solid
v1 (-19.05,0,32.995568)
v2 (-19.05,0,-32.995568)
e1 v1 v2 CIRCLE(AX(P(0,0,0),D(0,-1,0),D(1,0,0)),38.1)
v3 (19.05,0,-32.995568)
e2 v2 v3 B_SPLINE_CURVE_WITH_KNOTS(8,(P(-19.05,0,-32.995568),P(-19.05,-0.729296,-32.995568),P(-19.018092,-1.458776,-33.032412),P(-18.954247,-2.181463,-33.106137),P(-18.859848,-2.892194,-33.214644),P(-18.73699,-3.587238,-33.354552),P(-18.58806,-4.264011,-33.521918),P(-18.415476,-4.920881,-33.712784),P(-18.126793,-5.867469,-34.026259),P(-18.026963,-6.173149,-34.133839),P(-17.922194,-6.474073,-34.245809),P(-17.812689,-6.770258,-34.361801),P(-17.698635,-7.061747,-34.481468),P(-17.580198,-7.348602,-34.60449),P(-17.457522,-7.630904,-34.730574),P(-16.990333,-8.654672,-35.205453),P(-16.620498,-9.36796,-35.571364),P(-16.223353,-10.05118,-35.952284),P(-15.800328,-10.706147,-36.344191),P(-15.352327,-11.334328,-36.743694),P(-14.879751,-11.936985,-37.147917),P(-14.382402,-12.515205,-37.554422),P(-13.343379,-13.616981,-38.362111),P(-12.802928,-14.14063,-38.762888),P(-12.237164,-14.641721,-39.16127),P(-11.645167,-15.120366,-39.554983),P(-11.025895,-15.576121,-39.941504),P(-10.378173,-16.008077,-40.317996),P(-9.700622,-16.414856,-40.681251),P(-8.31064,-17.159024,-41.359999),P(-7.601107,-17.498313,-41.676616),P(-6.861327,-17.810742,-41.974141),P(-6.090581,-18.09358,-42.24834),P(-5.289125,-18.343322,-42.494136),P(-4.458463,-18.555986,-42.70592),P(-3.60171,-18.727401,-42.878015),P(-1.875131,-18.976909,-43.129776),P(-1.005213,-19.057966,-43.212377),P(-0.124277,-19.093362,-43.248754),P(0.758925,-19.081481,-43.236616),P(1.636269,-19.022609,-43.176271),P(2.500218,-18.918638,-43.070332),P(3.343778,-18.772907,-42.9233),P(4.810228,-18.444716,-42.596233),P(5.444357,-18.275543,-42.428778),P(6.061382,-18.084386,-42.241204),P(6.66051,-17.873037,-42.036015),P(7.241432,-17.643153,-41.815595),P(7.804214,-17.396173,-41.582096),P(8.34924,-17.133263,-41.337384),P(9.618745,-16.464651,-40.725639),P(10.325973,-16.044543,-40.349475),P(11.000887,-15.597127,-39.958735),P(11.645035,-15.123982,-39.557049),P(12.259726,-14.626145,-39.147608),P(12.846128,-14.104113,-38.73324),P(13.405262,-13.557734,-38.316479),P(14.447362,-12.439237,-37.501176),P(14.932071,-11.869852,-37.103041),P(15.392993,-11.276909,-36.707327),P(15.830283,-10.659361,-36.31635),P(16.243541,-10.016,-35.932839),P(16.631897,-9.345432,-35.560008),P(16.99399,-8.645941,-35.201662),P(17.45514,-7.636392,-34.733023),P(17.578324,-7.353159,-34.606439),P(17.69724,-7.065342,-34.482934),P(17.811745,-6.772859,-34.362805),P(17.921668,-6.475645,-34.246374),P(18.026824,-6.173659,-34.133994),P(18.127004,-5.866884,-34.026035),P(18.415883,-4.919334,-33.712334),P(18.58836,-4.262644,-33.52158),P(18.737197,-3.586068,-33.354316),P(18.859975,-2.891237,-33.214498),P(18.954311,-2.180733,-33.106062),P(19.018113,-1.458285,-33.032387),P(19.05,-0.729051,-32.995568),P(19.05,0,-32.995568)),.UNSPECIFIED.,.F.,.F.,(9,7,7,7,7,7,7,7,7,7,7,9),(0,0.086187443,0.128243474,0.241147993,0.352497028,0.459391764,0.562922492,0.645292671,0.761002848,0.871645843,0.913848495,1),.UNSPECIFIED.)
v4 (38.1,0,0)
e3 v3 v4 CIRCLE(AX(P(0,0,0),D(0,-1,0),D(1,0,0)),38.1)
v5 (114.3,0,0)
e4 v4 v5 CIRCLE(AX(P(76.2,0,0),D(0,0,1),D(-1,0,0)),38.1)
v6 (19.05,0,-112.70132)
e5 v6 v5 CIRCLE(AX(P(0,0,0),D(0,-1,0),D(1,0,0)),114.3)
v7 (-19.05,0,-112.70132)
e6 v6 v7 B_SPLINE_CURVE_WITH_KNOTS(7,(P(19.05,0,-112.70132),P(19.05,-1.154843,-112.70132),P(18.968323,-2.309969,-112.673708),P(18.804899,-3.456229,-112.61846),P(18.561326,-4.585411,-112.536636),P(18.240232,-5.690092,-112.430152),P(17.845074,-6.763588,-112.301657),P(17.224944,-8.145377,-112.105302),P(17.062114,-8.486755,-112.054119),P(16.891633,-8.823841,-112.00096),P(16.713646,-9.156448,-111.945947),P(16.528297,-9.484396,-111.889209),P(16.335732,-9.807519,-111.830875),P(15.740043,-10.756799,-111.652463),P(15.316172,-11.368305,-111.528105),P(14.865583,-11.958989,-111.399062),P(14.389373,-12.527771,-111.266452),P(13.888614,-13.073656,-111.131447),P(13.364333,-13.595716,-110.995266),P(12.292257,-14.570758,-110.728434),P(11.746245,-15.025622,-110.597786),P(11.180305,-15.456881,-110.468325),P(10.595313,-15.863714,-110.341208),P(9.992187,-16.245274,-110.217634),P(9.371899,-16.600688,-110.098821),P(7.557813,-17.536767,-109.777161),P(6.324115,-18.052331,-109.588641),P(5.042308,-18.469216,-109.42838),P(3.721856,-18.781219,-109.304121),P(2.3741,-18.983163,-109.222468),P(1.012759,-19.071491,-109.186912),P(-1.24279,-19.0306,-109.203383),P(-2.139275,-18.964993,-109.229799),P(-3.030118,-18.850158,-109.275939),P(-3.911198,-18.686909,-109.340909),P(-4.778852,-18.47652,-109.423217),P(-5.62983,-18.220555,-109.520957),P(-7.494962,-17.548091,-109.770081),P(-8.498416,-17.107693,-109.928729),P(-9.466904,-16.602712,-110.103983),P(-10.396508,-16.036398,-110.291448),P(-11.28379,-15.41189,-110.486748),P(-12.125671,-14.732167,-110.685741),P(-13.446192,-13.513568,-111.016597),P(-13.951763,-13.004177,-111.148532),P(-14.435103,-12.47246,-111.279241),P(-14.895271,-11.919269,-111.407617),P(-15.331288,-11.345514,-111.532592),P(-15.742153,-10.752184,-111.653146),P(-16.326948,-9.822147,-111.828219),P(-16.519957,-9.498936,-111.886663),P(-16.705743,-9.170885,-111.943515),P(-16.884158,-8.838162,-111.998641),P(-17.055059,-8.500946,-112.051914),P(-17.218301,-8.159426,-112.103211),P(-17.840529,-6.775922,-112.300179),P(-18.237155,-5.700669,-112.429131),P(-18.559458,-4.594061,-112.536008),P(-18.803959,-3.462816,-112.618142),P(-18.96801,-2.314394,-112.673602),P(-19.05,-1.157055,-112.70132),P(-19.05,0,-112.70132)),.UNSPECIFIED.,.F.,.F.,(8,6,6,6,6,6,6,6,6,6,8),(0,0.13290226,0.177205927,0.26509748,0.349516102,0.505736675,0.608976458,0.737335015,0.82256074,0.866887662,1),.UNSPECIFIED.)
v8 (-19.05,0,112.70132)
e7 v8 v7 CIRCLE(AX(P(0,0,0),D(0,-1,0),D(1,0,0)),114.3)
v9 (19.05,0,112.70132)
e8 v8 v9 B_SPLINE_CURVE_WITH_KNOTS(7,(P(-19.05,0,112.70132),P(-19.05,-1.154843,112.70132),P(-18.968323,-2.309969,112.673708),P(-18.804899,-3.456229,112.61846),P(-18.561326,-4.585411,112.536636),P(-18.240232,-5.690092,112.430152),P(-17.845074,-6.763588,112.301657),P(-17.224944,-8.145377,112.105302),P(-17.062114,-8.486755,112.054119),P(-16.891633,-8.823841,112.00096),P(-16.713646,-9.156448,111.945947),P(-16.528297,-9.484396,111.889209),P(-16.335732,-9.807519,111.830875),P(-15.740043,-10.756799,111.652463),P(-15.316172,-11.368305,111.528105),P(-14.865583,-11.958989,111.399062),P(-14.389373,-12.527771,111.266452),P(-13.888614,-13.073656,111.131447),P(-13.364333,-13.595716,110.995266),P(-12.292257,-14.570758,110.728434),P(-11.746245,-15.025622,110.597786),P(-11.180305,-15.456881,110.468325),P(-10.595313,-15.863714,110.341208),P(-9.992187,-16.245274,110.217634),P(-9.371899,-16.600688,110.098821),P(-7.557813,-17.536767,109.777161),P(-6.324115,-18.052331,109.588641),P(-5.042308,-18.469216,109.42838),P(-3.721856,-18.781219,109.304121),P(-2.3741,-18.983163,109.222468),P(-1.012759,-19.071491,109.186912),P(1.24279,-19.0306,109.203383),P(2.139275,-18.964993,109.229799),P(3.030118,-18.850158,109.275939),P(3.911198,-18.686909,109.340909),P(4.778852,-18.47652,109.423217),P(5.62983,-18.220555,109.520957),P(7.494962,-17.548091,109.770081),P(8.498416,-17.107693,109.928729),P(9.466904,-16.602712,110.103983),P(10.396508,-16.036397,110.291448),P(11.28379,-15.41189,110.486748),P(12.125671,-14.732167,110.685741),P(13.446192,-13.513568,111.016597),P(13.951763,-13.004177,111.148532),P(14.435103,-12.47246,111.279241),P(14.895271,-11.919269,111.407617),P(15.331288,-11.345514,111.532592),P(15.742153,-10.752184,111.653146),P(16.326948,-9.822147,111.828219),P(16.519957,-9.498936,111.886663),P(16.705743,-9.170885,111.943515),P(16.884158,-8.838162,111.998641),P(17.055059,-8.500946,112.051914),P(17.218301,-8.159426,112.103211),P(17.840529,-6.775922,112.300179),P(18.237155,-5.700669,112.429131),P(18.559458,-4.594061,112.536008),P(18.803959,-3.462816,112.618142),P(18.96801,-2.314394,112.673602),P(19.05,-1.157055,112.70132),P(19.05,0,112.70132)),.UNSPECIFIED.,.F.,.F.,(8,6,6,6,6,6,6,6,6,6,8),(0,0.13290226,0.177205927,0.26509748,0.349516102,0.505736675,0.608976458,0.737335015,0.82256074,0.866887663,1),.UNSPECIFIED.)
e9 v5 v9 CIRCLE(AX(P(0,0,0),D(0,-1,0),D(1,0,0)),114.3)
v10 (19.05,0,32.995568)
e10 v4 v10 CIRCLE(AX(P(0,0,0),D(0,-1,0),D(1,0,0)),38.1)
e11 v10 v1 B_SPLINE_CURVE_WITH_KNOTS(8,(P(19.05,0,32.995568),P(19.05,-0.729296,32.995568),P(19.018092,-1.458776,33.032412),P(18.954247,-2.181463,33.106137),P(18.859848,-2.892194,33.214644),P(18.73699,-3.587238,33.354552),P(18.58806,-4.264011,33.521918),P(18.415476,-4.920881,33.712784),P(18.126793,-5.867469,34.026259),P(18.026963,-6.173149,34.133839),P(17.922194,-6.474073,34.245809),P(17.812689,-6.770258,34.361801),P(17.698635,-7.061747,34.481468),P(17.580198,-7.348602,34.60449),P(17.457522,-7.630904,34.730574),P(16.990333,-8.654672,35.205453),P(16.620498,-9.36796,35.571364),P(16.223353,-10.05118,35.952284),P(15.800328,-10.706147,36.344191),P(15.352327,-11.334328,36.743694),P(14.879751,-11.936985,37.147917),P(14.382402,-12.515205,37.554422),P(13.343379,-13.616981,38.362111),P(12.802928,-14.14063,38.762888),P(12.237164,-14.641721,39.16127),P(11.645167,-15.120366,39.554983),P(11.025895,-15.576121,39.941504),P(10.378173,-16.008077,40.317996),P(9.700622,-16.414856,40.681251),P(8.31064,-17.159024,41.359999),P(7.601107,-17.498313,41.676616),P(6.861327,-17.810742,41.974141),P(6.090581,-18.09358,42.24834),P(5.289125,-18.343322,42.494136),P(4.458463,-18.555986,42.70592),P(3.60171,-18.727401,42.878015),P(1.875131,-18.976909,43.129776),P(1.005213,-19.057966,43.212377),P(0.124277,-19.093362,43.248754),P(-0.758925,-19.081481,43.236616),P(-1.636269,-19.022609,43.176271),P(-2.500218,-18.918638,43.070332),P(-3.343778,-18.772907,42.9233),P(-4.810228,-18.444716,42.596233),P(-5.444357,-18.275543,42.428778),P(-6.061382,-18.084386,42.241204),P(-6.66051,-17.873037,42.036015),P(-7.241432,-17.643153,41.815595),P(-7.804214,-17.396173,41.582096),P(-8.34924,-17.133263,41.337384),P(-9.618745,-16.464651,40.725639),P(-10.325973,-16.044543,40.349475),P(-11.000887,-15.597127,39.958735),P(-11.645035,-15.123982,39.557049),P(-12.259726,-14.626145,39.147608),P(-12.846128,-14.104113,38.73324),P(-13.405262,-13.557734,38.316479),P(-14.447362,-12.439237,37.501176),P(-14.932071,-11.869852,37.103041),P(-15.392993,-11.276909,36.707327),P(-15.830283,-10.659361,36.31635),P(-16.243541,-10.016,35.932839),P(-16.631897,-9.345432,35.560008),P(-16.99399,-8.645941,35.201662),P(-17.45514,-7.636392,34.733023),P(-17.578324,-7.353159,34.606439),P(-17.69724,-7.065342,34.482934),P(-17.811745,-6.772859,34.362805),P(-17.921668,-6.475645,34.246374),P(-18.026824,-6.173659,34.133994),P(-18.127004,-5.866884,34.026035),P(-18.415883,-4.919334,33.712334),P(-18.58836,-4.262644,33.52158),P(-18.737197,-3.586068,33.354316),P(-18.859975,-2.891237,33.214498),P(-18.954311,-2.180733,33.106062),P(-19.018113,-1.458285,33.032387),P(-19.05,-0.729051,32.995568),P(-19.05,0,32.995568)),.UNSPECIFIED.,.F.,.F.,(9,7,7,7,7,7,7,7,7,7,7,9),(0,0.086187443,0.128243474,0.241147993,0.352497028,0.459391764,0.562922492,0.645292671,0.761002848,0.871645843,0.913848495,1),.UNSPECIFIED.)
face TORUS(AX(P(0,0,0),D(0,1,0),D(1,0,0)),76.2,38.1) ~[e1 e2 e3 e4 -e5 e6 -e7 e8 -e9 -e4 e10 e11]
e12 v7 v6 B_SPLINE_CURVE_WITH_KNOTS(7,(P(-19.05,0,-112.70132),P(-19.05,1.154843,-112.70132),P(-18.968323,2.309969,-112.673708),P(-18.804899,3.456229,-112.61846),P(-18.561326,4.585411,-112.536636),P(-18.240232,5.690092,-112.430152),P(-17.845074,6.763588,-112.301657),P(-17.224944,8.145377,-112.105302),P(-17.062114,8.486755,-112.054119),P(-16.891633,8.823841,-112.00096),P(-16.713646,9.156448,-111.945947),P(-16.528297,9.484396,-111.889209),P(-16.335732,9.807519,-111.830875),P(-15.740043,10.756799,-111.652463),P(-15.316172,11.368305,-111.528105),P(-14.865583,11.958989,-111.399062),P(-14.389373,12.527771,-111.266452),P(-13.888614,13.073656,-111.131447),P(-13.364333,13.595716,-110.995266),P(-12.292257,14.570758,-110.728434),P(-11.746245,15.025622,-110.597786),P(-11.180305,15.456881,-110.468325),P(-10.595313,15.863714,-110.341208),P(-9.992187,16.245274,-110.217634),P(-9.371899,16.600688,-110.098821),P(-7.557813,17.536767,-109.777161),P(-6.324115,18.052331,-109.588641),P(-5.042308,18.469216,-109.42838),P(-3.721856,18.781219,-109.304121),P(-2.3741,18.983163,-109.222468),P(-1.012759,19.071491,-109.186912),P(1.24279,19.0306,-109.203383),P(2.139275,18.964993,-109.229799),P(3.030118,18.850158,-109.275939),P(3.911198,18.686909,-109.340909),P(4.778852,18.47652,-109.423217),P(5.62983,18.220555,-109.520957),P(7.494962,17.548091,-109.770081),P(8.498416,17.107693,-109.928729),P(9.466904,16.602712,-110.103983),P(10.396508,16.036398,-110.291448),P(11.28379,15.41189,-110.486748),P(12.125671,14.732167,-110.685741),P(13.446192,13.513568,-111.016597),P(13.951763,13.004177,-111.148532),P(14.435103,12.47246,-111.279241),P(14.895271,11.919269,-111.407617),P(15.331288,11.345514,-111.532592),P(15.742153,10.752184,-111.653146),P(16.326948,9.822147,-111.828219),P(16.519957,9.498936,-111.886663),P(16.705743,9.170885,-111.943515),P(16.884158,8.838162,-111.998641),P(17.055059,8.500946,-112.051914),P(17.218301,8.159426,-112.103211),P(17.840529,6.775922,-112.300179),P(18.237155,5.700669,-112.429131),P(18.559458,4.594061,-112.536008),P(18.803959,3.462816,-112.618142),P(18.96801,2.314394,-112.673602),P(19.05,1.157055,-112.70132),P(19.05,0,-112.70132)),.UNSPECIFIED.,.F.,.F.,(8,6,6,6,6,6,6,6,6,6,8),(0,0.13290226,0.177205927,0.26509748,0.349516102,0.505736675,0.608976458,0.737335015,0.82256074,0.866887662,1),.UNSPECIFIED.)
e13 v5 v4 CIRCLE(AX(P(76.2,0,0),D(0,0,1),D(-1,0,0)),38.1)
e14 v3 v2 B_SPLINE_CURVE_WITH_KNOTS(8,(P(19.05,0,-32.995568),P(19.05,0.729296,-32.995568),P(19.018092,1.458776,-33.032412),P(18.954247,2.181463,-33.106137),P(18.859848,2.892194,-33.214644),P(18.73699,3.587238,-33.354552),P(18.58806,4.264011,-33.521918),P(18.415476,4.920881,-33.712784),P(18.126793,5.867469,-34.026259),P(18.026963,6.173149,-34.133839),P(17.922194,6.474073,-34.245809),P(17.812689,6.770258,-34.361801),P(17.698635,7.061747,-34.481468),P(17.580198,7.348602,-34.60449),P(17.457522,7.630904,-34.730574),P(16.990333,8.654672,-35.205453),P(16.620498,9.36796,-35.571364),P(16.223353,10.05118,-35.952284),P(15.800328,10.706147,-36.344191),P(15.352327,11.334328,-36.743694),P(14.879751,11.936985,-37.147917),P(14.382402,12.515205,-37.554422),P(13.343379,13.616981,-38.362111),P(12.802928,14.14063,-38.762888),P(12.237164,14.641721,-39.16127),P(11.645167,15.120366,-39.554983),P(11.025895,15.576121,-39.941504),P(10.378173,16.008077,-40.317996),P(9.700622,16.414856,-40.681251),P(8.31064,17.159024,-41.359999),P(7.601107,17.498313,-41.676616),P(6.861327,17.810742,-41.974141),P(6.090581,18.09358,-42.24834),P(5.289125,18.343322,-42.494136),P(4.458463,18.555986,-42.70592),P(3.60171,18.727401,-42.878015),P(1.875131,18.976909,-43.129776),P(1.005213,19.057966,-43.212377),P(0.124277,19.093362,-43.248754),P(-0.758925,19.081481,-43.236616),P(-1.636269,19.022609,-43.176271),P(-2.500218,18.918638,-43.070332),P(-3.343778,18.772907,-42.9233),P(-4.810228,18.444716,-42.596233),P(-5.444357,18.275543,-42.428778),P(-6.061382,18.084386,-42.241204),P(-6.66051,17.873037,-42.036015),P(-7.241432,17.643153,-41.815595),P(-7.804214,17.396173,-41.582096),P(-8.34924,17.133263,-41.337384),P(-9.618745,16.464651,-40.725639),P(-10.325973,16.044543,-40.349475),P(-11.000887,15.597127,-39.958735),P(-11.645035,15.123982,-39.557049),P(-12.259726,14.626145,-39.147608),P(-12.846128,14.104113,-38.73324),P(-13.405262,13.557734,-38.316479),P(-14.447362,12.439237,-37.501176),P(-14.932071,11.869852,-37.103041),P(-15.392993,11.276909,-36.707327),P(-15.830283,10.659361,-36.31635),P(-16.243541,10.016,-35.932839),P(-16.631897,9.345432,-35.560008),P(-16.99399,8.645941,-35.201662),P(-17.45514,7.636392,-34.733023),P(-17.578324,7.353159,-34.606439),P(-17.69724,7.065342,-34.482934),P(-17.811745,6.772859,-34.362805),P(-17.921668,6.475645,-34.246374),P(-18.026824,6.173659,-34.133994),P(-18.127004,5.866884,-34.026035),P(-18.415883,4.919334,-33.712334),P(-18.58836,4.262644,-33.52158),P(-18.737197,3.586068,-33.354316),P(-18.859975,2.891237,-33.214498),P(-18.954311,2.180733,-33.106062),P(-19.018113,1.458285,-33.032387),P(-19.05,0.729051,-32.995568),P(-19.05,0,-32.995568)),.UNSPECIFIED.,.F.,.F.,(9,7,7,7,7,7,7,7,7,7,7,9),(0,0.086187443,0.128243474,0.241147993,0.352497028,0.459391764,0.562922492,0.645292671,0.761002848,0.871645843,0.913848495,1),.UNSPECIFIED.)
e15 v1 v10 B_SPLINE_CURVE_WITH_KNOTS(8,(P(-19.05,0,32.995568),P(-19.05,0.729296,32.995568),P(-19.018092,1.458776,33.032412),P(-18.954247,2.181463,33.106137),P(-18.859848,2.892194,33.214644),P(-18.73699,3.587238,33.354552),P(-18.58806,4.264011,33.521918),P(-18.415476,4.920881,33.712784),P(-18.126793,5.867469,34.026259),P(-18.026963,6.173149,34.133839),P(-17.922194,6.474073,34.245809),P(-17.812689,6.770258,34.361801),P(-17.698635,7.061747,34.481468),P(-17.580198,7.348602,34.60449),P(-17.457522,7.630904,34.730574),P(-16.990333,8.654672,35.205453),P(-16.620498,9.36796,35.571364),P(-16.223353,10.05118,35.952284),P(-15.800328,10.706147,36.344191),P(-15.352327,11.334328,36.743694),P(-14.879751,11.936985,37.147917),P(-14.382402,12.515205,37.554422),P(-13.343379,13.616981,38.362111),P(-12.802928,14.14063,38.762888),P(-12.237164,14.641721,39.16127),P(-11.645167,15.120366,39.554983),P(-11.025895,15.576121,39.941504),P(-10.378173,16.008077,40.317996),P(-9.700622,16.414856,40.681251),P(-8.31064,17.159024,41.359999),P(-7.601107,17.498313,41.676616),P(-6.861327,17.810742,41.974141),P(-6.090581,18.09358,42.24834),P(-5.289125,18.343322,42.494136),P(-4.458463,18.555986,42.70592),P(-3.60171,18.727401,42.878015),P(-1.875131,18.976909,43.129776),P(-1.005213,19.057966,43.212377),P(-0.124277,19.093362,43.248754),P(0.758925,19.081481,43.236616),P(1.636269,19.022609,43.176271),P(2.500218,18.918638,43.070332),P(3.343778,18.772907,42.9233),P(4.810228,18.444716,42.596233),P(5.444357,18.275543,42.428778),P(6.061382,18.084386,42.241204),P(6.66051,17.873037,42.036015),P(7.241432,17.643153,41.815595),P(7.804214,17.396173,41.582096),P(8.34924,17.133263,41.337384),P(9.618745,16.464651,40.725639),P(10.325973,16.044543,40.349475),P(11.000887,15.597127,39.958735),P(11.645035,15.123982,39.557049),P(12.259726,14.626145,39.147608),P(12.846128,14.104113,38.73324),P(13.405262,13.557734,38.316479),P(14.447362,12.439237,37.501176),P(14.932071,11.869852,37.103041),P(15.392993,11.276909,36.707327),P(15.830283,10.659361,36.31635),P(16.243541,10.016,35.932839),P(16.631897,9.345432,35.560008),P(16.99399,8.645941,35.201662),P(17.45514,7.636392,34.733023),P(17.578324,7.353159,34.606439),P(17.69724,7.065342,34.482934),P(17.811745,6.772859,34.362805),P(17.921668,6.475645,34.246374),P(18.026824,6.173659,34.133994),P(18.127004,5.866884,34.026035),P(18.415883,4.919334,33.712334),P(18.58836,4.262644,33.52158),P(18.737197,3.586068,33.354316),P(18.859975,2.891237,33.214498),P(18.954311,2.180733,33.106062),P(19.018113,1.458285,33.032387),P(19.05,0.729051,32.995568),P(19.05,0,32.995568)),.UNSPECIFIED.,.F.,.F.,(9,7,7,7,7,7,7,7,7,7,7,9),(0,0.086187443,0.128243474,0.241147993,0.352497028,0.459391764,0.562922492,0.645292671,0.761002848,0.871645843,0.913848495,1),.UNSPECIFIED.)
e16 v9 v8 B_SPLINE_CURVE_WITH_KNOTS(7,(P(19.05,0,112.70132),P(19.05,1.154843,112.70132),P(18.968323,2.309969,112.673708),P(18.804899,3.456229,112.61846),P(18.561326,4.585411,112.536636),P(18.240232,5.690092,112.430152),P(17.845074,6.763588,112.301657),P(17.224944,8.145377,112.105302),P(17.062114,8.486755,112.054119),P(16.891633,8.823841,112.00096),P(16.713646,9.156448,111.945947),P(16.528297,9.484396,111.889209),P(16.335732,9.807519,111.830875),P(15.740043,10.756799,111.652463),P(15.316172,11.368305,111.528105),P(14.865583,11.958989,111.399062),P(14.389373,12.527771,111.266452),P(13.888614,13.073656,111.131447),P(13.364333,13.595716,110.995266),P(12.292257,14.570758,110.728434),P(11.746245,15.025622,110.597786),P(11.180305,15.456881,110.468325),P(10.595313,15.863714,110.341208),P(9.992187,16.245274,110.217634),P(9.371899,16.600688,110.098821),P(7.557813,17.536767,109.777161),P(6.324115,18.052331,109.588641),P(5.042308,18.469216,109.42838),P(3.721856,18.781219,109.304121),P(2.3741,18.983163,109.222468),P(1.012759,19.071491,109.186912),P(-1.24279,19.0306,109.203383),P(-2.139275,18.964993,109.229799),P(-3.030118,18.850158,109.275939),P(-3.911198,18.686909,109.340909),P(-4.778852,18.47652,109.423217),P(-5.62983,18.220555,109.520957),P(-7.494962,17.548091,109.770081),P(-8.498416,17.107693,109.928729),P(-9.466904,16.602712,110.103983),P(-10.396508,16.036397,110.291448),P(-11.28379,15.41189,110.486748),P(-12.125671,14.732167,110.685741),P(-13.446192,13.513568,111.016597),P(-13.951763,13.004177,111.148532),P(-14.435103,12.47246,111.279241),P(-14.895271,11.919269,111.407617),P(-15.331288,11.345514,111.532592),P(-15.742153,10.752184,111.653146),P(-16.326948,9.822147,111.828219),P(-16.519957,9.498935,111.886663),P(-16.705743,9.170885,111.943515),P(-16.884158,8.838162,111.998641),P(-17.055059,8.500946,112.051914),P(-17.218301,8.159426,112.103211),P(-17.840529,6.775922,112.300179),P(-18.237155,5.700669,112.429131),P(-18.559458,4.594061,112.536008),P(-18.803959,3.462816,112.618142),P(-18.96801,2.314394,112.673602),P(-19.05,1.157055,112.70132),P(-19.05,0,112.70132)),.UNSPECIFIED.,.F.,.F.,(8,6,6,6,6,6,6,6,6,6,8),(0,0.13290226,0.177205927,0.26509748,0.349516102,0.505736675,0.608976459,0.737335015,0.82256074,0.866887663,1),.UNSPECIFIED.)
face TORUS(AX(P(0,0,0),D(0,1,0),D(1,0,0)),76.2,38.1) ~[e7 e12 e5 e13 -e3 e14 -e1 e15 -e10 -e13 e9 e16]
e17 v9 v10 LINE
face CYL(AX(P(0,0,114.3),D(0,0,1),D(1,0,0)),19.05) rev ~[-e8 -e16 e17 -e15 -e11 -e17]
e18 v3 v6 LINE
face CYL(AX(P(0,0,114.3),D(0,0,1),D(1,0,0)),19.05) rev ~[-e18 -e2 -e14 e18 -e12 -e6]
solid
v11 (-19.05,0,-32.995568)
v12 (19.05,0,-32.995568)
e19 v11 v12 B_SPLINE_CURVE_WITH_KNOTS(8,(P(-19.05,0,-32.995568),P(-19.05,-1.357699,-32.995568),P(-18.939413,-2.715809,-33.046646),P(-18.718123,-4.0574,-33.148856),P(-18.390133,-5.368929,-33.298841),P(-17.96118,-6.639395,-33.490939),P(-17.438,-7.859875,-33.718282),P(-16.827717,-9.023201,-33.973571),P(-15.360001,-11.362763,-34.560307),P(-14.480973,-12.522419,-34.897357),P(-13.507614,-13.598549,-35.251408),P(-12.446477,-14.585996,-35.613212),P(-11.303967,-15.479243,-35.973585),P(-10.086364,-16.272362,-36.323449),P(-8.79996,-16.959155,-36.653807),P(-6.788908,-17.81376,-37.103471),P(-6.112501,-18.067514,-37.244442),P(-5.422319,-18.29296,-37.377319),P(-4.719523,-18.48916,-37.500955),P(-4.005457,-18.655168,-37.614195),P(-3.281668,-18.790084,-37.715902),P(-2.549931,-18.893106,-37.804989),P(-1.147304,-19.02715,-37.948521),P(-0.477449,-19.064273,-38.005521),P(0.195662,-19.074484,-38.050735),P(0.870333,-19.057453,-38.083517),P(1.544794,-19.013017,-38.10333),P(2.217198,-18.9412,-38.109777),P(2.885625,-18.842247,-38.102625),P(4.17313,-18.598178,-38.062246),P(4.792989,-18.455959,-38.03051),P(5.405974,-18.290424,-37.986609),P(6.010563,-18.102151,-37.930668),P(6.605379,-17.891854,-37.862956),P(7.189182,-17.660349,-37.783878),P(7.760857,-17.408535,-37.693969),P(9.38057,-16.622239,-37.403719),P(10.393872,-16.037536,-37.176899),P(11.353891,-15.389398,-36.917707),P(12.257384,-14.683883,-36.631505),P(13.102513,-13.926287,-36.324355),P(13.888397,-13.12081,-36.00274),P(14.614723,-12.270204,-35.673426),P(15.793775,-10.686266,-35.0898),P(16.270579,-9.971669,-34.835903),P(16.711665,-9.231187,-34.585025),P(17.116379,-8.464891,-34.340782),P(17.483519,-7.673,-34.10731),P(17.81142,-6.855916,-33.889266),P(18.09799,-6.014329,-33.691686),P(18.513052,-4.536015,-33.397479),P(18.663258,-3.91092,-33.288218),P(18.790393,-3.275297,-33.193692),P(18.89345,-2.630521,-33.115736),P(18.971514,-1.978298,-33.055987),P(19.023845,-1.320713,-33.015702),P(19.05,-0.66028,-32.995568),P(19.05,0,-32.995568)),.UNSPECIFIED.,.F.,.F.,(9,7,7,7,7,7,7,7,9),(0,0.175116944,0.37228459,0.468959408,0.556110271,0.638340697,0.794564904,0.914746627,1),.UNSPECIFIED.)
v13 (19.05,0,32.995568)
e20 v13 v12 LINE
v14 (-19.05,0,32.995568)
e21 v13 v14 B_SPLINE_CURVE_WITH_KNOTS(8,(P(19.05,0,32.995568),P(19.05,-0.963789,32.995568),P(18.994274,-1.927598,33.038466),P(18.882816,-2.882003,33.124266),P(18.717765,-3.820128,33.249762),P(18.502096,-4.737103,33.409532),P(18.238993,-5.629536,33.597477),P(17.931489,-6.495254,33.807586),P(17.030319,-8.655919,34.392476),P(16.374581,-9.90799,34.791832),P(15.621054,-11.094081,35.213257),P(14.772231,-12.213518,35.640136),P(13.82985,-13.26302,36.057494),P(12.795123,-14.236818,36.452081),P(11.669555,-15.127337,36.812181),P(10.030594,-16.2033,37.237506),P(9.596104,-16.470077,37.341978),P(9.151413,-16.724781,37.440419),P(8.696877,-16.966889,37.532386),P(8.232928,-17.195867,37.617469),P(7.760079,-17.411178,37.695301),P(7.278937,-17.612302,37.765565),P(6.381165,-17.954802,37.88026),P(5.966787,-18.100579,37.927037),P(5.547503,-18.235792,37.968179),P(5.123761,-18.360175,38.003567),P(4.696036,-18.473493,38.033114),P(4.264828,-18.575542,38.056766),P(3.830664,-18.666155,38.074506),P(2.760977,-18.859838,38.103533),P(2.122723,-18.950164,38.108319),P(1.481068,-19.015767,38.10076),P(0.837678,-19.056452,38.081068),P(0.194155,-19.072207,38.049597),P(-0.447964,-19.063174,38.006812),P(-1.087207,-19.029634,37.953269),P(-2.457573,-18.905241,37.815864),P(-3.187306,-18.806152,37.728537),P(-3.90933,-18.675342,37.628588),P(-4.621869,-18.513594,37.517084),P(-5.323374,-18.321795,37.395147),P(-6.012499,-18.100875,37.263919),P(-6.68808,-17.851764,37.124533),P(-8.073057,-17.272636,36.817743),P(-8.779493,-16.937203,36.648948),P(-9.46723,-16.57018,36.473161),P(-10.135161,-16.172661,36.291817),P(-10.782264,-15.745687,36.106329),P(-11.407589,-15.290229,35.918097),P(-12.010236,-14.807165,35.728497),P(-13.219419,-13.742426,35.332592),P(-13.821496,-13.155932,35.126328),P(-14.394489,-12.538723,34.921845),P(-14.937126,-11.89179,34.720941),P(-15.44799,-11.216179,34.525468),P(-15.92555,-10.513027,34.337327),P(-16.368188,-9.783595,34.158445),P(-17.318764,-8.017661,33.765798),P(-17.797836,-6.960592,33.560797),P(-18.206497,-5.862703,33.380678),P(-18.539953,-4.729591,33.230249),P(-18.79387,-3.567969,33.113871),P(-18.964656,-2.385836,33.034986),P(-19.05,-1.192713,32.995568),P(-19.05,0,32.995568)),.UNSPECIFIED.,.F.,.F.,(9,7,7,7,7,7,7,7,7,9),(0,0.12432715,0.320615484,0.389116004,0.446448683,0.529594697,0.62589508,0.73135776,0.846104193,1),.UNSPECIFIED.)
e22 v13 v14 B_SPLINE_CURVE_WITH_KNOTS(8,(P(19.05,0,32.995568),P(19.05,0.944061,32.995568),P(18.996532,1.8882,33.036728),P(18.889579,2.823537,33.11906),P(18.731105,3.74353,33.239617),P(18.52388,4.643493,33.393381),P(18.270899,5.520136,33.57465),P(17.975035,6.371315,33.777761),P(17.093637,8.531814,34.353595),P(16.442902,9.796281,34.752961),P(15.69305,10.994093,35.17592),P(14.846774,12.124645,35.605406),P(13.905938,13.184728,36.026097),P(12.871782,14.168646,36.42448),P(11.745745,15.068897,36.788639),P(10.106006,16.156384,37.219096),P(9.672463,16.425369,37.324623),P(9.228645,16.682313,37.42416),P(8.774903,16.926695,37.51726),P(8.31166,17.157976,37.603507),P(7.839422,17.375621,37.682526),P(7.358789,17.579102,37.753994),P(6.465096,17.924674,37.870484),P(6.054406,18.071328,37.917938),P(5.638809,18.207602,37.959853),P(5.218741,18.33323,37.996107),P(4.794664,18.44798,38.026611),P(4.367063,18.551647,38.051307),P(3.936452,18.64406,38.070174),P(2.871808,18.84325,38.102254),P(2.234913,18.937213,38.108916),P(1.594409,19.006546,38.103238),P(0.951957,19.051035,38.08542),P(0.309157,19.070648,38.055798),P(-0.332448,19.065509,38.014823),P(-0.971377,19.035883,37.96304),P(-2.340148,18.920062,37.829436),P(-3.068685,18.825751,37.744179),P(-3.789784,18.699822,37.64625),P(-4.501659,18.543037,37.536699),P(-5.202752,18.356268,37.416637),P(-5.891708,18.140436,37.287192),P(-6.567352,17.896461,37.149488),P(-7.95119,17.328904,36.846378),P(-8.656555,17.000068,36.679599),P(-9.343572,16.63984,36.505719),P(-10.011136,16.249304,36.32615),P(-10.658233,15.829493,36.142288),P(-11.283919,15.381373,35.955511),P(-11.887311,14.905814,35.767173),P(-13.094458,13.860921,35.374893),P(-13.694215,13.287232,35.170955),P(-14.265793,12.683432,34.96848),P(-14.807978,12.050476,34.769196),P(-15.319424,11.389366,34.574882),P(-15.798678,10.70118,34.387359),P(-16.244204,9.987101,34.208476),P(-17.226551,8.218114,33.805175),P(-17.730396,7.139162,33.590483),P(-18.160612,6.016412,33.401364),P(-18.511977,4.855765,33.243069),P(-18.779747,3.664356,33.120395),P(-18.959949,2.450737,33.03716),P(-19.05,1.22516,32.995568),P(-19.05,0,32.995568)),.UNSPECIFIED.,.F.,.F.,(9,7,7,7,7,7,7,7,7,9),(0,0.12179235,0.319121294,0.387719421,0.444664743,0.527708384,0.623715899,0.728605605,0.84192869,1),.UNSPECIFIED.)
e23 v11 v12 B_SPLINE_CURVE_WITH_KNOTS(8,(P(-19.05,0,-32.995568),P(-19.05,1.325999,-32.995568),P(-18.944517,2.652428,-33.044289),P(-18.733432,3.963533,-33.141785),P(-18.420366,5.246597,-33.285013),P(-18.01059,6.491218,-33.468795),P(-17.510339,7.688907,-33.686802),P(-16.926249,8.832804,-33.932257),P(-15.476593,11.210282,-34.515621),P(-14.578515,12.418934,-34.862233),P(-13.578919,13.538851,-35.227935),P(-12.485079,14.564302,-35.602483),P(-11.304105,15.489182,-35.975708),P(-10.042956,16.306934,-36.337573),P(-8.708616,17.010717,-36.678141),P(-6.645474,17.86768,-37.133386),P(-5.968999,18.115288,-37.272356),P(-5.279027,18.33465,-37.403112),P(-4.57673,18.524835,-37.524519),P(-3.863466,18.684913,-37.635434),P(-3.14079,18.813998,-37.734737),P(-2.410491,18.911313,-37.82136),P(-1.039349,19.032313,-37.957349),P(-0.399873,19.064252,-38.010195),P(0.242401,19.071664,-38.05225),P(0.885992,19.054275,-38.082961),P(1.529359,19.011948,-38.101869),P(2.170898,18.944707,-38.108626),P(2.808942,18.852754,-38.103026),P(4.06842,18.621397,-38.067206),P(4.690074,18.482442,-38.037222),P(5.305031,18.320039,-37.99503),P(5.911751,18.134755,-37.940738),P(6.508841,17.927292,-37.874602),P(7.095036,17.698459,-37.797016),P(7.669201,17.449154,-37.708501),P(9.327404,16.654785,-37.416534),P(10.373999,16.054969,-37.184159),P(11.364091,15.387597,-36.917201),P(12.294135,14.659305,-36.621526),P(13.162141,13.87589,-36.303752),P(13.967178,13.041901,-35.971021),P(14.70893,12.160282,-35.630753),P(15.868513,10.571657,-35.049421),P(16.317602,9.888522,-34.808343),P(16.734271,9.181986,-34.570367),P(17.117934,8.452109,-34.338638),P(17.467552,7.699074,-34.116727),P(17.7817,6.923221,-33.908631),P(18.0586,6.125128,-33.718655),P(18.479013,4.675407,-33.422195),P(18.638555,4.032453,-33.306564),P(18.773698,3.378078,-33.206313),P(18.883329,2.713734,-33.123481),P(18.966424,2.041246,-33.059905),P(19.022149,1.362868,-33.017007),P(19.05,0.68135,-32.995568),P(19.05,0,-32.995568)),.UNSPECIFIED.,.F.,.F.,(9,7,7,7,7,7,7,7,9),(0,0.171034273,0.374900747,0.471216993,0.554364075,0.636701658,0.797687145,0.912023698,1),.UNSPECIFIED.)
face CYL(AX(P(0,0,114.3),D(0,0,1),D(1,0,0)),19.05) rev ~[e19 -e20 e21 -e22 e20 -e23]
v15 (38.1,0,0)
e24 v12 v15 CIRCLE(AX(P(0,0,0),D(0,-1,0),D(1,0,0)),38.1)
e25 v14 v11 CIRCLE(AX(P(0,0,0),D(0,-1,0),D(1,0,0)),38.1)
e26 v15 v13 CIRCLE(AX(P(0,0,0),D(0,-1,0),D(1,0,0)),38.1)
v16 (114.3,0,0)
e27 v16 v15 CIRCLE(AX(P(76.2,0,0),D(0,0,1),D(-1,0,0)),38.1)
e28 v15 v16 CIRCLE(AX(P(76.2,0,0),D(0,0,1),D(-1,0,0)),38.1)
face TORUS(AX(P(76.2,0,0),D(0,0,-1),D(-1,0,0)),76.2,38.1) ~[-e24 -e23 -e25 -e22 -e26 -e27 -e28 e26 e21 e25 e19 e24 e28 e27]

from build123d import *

# Parameters (mm, degrees)
F0_R     = 38.1
F3_R     = 38.1
F6_R     = 19.05
F7_DEPTH = 228.601


with BuildPart() as f2:
    # F0 (on Front) → F2 (revolve)
    with BuildSketch(Plane.XZ):
        Circle(F0_R)
    revolve(axis=Axis((76.2, 0, 0), (0, 0, 1)))

    # F3 (on Top) → F4 (revolve)
    with BuildSketch(Plane.XY):
        with Locations((76.2, 0)):
            Circle(F3_R)
    revolve(axis=Axis((0, 0, 0), (0, -1, 0)))

    # F6 (on offset) → F7 (cut, through all)
    with BuildSketch(Plane.XY.offset(114.3)):
        Circle(F6_R)
    extrude(amount=-F7_DEPTH, mode=Mode.SUBTRACT)


solid = f2.part
